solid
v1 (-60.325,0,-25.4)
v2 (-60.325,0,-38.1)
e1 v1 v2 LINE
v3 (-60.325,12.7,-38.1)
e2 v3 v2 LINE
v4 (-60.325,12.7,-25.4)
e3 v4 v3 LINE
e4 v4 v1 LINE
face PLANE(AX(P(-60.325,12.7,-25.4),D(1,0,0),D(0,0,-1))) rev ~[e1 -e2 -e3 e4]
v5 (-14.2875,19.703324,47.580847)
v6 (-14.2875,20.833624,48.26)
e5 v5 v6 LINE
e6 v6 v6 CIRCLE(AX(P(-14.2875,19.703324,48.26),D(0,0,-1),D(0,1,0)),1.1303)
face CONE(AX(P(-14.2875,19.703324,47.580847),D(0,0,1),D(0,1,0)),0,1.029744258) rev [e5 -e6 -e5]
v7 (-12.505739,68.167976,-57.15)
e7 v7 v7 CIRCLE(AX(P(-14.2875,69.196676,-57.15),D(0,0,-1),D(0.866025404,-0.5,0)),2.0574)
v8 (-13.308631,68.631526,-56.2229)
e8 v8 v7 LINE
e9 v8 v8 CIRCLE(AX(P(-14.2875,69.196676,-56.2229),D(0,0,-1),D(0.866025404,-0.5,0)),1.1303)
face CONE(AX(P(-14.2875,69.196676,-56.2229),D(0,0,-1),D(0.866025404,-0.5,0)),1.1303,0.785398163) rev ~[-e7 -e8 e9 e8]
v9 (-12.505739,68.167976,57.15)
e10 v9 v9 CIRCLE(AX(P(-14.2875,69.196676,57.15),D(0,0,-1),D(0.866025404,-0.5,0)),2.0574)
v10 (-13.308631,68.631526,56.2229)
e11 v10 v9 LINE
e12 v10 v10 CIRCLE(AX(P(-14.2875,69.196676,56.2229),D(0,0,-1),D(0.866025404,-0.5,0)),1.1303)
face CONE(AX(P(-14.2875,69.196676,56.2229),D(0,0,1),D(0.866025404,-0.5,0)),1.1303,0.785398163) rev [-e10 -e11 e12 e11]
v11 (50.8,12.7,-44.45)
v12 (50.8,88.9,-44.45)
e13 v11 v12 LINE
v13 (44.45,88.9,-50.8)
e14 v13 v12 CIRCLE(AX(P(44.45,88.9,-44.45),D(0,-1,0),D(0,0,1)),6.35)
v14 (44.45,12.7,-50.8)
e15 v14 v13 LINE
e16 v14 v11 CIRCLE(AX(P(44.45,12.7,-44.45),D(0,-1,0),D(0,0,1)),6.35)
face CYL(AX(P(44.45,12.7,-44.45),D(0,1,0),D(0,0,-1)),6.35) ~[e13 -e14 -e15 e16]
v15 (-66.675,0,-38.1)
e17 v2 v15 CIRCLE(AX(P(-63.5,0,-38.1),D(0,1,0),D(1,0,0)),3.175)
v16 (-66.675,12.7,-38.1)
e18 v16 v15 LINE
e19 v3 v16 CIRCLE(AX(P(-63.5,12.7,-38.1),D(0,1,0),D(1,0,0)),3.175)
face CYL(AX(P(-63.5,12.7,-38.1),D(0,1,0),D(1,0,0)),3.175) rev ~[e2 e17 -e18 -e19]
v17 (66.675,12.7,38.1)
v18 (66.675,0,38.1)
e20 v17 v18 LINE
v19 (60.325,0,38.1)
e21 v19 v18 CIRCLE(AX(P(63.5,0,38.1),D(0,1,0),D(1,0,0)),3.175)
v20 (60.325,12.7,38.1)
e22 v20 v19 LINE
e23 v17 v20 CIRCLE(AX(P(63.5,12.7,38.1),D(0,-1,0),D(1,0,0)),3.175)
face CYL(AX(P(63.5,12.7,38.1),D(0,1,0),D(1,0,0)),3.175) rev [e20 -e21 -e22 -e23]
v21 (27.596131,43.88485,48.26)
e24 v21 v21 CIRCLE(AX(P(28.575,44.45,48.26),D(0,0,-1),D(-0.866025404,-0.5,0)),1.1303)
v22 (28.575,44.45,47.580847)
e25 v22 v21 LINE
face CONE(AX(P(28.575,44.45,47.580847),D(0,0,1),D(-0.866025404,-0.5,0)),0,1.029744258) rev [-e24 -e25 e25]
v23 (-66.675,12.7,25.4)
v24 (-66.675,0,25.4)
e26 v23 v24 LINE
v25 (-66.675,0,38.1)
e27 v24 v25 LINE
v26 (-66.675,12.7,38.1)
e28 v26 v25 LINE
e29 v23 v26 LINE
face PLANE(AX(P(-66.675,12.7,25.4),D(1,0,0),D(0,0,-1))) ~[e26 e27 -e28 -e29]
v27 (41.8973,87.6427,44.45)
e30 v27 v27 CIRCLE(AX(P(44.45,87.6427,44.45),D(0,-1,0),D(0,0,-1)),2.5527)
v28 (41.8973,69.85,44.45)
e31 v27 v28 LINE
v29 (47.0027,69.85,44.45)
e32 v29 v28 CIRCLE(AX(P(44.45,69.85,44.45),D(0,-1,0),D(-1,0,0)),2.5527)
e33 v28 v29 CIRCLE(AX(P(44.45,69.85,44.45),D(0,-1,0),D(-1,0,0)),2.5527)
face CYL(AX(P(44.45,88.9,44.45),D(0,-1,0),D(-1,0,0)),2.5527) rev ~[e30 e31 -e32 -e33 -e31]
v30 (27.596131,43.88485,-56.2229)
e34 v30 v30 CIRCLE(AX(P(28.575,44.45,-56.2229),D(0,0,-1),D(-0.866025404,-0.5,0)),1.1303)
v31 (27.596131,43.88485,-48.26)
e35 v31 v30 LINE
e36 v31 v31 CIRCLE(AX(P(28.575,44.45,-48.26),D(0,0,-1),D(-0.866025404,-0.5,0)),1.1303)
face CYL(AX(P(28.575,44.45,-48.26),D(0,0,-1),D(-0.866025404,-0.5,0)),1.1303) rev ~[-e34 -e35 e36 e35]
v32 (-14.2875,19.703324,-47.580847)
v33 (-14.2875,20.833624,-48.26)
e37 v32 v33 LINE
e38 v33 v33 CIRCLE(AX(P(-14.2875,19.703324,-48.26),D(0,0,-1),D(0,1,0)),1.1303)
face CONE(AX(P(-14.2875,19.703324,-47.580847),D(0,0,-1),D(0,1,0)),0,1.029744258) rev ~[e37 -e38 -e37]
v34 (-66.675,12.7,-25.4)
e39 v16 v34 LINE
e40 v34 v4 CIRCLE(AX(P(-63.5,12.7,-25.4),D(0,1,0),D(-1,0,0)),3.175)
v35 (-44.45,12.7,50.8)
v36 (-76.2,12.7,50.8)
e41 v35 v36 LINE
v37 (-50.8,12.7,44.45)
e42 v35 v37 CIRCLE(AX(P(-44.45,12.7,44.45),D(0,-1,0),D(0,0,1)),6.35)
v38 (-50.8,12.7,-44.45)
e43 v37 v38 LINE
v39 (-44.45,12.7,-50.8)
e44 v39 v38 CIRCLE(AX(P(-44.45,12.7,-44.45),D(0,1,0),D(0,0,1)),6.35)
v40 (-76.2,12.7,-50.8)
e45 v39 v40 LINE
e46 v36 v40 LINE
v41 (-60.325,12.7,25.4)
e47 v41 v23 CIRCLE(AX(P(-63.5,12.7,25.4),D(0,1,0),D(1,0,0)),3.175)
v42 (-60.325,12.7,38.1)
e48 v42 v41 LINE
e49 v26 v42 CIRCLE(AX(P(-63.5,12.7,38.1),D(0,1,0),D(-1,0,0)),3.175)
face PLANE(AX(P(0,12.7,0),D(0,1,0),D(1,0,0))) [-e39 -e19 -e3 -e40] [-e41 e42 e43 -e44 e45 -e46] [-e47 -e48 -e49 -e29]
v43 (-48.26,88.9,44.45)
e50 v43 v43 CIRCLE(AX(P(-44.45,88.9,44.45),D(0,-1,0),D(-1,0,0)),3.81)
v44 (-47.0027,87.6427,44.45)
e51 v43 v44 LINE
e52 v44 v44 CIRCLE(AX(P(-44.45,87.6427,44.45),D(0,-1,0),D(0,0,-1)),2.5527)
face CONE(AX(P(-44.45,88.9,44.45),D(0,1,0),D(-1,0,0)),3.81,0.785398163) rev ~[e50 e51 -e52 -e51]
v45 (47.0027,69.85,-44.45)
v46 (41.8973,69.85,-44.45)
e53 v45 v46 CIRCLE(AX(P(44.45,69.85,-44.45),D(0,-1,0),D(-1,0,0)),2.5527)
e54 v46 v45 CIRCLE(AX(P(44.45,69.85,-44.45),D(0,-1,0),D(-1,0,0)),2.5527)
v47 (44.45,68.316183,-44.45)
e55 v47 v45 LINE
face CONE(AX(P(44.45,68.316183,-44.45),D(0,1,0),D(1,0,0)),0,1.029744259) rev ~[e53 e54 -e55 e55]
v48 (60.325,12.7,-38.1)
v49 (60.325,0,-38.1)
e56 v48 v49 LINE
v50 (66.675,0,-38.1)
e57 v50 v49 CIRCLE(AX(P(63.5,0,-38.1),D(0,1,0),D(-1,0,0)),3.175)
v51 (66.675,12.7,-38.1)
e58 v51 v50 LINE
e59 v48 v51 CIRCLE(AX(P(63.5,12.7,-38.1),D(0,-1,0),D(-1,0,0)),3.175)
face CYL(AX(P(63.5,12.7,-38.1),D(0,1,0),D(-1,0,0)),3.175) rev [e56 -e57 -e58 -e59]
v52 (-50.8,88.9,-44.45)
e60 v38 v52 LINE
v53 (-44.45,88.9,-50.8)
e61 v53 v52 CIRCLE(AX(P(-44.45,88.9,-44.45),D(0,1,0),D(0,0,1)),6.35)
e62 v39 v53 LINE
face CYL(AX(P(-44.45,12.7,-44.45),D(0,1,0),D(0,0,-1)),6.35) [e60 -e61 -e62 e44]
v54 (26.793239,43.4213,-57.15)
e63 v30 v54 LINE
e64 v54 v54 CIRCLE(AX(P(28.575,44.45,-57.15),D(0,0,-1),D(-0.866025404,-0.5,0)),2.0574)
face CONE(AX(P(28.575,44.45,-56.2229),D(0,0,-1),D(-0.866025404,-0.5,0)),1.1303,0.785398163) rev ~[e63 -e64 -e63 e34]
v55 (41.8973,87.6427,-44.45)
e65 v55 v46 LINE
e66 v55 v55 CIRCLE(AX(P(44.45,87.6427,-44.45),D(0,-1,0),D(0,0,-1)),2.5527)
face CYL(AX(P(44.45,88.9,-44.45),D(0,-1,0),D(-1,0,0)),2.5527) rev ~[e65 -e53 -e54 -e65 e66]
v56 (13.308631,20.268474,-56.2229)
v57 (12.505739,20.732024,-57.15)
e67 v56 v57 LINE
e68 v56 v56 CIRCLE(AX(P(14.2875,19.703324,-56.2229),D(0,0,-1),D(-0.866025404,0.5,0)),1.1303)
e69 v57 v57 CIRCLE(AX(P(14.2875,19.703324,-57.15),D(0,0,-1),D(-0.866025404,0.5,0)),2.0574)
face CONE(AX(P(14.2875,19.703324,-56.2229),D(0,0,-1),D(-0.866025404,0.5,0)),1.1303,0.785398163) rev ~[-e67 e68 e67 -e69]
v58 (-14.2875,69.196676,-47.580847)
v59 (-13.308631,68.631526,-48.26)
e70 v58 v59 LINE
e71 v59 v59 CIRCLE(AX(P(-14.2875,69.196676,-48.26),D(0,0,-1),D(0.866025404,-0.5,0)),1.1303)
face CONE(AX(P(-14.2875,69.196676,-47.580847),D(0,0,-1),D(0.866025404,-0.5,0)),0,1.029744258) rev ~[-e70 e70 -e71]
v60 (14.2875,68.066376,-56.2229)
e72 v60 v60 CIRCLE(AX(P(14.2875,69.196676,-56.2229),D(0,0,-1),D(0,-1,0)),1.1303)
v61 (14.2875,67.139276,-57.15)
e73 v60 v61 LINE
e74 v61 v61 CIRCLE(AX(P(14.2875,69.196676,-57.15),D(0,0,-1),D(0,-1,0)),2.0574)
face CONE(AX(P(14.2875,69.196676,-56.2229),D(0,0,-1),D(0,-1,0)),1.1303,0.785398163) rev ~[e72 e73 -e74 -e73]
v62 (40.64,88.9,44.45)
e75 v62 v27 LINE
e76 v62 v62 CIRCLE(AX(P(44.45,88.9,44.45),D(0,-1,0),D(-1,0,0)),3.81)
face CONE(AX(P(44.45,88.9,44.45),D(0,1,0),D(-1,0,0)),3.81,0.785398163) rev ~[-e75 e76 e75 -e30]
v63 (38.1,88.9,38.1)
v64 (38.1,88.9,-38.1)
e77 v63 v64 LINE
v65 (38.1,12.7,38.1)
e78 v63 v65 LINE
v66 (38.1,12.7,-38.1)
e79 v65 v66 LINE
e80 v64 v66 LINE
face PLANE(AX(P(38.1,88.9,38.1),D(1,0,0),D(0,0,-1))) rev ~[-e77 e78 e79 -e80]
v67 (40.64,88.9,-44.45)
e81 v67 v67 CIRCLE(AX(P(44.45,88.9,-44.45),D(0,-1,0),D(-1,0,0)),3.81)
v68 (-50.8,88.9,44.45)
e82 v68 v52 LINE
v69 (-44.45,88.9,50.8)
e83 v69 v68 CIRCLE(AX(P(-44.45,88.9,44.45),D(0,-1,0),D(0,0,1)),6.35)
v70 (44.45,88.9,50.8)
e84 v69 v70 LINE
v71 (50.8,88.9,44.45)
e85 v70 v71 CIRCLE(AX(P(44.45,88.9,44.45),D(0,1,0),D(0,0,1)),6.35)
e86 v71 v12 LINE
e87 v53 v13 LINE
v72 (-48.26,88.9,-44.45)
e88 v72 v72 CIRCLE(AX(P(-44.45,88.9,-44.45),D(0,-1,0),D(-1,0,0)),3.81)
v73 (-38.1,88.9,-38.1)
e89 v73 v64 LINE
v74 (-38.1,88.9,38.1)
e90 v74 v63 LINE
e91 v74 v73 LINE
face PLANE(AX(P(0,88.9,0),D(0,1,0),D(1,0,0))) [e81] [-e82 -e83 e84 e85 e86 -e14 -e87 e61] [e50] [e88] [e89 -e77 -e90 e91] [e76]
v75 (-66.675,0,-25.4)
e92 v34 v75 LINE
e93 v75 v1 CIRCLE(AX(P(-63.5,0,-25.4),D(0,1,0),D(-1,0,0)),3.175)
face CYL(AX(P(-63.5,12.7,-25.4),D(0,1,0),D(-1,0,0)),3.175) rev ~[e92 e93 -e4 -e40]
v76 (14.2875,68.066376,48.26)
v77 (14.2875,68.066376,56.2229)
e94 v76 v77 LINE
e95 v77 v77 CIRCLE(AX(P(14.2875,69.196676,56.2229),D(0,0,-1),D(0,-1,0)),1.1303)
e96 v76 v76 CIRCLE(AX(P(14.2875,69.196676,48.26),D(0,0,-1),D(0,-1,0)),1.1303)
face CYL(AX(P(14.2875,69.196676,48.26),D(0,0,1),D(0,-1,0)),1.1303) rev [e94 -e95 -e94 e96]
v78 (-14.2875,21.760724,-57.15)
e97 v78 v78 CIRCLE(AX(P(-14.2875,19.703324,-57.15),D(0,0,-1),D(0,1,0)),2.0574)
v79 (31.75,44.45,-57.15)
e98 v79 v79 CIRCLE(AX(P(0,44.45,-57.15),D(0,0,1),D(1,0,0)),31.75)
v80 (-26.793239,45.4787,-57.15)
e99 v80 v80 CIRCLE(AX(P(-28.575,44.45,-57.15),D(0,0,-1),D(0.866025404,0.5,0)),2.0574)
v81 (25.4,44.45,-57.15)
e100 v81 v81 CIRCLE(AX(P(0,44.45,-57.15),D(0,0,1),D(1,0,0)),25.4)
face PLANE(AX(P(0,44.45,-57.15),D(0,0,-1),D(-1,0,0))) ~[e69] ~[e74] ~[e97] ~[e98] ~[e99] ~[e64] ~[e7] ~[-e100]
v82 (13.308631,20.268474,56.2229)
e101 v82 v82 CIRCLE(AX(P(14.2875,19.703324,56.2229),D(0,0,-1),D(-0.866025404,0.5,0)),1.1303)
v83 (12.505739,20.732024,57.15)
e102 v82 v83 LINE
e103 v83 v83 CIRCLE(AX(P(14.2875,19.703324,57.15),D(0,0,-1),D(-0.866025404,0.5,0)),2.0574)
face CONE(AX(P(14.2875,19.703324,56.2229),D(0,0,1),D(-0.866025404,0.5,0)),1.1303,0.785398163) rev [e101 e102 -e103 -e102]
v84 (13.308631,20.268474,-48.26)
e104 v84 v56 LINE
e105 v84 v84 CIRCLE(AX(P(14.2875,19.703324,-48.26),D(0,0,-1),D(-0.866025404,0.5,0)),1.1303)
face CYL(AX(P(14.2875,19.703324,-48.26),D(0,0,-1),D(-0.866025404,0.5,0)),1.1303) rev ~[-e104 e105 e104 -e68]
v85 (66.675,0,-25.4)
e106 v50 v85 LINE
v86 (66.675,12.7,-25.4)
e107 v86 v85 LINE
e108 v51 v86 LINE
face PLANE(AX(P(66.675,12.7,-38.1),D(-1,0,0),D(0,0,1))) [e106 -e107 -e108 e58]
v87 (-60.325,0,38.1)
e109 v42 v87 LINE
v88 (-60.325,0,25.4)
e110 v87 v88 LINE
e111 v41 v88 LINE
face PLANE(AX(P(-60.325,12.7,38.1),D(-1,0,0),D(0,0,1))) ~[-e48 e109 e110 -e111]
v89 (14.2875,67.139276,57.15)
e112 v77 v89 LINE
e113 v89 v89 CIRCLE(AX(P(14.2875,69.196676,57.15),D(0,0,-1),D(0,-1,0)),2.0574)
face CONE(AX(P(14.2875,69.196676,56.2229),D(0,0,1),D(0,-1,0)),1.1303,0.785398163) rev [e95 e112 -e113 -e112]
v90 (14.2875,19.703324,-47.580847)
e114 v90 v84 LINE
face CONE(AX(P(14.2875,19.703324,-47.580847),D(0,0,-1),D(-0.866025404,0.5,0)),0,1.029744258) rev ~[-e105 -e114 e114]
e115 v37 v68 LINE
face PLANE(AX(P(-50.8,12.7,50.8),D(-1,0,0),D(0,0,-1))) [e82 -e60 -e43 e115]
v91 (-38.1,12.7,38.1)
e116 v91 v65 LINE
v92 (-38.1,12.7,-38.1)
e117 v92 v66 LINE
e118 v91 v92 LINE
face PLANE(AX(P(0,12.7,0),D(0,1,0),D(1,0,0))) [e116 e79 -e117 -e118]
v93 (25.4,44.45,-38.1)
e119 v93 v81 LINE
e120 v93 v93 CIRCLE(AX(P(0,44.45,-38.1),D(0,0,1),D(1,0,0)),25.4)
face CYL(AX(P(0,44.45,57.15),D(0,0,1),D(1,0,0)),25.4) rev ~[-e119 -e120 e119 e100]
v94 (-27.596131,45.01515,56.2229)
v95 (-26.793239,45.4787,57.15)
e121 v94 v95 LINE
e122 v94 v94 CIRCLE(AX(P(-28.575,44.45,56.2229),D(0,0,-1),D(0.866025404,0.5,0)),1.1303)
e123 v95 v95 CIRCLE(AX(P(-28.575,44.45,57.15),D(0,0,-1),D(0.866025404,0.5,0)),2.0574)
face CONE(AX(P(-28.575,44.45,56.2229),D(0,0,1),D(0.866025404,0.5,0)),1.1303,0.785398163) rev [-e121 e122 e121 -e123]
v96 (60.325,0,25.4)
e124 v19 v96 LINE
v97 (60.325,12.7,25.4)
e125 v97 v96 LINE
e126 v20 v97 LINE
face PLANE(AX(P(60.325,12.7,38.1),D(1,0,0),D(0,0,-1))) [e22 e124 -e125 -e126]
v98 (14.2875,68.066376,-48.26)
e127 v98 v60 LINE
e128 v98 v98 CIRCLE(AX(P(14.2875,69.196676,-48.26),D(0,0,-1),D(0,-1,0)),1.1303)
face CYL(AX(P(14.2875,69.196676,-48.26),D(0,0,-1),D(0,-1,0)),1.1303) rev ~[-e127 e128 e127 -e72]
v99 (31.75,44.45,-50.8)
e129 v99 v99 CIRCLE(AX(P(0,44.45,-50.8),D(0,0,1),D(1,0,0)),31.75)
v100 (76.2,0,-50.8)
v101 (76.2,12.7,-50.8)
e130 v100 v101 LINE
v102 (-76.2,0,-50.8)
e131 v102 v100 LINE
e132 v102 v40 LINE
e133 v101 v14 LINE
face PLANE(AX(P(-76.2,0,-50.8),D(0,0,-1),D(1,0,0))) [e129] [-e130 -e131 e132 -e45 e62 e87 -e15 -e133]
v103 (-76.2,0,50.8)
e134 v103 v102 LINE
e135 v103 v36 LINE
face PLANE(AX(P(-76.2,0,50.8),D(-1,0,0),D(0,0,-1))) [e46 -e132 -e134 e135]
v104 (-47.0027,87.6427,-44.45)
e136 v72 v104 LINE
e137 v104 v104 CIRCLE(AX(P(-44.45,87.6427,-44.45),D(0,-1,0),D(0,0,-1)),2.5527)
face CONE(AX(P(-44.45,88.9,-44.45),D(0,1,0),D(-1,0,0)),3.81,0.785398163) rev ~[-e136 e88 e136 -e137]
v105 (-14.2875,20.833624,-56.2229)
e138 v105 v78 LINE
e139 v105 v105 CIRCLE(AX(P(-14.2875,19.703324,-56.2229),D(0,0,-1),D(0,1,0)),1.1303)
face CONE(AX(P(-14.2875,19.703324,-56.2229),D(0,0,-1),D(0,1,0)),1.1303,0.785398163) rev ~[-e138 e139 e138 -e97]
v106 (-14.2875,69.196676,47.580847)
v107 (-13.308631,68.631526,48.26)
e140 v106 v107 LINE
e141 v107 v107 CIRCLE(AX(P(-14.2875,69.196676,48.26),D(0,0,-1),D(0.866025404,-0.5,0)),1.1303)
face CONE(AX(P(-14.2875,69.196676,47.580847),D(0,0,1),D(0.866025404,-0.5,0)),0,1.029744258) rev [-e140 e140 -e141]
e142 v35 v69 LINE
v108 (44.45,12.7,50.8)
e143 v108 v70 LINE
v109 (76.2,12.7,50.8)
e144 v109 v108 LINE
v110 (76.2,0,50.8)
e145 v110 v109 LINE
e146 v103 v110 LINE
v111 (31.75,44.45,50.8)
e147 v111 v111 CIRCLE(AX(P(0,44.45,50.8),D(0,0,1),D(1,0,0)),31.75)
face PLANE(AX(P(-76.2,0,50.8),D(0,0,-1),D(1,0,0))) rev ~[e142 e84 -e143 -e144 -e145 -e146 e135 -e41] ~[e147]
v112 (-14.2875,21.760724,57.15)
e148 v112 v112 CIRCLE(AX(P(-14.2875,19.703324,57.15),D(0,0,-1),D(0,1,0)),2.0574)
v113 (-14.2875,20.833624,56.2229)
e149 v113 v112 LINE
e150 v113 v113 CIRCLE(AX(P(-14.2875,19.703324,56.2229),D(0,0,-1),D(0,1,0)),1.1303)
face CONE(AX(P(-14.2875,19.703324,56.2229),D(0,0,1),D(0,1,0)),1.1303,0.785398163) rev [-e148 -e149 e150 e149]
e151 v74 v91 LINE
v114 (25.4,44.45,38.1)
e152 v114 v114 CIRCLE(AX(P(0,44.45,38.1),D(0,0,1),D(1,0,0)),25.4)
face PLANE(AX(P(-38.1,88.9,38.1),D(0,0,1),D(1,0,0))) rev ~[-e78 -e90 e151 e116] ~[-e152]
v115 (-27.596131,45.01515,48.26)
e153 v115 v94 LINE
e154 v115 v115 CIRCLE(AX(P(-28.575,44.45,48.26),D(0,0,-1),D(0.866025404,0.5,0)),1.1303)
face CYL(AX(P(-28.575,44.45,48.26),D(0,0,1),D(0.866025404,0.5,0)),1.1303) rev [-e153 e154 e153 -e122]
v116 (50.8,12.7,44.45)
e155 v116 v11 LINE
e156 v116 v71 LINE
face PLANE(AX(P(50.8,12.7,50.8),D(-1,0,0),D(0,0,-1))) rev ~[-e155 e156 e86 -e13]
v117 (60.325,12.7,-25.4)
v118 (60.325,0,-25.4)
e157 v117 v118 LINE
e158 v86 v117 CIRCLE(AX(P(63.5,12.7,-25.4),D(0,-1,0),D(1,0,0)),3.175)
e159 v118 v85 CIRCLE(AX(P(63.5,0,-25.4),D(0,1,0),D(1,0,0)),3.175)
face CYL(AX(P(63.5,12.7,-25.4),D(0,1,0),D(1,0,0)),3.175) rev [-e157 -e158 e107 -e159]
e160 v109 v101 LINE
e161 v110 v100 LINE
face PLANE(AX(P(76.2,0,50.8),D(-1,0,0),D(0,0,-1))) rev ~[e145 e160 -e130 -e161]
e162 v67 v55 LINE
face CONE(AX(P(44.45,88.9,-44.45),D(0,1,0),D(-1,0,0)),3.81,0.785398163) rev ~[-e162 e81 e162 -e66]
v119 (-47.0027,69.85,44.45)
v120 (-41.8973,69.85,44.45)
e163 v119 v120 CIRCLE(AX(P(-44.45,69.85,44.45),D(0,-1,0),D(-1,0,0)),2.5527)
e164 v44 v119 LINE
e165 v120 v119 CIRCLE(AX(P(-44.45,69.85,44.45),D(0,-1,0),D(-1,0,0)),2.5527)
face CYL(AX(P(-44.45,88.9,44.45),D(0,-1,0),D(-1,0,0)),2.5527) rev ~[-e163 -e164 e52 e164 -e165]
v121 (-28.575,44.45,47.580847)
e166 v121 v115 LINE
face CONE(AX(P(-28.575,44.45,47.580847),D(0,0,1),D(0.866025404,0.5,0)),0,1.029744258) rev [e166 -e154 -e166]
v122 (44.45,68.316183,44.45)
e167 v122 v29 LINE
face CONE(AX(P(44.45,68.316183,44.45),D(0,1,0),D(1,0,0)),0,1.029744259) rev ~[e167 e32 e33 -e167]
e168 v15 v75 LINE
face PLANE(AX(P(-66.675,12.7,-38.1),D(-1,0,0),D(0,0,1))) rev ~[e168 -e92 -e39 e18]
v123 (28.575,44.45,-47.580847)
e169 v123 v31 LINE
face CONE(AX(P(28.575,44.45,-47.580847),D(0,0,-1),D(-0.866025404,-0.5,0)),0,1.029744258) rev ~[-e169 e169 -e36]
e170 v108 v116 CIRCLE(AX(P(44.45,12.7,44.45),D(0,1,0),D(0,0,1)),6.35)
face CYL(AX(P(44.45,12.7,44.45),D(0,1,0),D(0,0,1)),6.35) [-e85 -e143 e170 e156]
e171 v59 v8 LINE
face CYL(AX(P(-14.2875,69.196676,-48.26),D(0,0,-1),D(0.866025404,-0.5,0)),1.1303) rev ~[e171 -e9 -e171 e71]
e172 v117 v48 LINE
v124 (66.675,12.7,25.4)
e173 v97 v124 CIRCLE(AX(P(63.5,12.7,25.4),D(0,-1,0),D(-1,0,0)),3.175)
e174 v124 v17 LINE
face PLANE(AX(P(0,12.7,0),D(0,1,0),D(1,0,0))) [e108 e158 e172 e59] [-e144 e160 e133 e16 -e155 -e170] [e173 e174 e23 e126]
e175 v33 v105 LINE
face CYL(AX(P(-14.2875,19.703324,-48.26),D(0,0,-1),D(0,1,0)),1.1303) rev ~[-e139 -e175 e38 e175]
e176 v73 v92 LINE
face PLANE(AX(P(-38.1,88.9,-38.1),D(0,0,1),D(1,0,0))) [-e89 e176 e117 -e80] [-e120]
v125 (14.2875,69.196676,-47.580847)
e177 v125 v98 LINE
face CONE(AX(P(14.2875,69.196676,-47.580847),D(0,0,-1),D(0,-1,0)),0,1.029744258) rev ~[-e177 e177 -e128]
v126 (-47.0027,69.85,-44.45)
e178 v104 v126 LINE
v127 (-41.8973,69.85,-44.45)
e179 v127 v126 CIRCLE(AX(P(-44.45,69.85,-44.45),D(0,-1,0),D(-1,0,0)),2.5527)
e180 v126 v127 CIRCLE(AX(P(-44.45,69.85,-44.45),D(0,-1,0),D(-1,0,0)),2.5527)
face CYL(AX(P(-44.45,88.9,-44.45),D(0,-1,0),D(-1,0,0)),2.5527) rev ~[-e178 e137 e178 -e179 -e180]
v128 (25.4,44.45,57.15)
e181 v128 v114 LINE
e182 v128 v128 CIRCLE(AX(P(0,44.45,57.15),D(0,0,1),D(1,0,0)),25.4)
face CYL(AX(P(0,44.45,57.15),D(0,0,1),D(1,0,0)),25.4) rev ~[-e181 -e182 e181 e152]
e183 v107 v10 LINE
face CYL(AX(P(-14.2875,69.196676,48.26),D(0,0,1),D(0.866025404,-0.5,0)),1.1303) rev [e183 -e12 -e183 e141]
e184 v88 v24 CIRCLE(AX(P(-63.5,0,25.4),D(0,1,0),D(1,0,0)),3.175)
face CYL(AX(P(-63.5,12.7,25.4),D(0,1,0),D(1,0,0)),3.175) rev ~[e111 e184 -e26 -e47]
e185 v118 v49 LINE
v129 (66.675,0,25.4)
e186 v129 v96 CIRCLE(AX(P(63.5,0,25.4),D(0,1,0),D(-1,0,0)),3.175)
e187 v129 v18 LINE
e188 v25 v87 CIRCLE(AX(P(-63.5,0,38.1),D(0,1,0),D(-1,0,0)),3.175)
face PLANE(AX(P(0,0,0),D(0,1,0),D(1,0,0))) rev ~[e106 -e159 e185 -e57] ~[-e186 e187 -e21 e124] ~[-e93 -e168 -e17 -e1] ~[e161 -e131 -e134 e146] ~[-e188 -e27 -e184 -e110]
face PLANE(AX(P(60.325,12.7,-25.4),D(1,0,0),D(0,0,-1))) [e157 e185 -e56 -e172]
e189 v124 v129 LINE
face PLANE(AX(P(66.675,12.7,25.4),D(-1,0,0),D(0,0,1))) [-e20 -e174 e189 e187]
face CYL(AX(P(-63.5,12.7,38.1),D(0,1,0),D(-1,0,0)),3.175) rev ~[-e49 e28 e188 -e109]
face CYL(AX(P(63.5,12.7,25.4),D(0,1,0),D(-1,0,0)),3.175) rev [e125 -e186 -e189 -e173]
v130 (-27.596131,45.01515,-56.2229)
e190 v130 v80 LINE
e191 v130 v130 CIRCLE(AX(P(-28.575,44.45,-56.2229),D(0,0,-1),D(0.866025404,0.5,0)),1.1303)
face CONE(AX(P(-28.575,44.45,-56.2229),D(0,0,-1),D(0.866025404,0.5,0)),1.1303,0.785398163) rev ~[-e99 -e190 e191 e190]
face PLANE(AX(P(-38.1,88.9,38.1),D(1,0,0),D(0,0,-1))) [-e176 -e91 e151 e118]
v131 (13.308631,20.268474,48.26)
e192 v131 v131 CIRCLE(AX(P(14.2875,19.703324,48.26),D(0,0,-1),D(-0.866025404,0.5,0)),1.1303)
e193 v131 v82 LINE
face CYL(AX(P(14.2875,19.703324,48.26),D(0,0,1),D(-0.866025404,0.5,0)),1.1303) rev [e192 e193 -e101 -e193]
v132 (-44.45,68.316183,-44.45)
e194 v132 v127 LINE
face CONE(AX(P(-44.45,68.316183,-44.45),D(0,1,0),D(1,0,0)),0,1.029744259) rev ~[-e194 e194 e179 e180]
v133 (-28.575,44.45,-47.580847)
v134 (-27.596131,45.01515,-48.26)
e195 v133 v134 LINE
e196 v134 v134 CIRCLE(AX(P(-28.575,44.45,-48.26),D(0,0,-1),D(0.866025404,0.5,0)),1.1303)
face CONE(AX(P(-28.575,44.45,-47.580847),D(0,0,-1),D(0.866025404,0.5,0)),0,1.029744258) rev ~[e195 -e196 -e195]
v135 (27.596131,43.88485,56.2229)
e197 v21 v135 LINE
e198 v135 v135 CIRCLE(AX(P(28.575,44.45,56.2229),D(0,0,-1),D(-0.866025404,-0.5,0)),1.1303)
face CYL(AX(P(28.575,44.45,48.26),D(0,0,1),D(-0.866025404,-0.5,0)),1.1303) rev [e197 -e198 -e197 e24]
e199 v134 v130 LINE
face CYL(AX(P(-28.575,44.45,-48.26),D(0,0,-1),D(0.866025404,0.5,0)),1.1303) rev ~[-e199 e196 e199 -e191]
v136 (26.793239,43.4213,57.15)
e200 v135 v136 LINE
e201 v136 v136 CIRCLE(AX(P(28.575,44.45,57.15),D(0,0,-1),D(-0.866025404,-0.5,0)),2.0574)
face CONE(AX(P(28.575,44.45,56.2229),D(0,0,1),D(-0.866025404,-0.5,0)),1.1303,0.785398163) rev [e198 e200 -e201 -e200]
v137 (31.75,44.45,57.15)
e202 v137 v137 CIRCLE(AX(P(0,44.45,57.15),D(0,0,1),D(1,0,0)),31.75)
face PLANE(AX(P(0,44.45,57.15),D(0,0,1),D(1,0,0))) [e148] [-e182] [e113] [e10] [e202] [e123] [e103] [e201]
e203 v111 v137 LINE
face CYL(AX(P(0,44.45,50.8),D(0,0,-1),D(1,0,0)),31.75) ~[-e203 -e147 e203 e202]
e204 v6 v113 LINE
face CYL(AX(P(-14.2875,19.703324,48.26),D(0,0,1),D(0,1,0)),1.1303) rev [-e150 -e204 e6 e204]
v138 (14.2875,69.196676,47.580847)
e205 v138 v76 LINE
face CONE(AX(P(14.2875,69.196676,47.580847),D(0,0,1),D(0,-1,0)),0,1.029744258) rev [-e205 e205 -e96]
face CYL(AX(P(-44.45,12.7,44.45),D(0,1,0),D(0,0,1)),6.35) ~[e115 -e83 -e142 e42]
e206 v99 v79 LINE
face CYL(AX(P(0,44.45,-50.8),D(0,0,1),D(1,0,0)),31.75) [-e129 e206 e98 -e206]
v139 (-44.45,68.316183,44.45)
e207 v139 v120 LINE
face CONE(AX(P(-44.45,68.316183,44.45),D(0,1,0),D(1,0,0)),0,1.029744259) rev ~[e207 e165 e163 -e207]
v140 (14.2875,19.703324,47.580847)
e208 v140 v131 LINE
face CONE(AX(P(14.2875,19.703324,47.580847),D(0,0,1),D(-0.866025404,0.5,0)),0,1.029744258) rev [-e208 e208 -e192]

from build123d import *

# Parameters (mm, degrees)
SKETCH1_W                         = 152.4
SKETCH1_H                         = 101.6
BOSS_EXTRUDE1_DEPTH               = 12.7
SKETCH2_W                         = 101.6
SKETCH2_H                         = 101.6
BOSS_EXTRUDE2_DEPTH               = 76.2
SKETCH3_W                         = 76.2
SKETCH3_H                         = 76.2
CUT_EXTRUDE1_DEPTH                = 76.2
SKETCH4_R                         = 31.75
BOSS_EXTRUDE3_DEPTH               = 6.35
SKETCH5_R                         = 25.4
CUT_EXTRUDE2_DEPTH                = 164.628053829
CIRPATTERN1_COUNT                 = 6
FILLET1_R                         = 6.35
F_1_4_20_TAPPED_HOLE1_D           = 5.1054
F_1_4_20_TAPPED_HOLE1_DEPTH       = 19.05
F_1_4_20_TAPPED_HOLE1_CSINK_D     = 7.62
F_1_4_20_TAPPED_HOLE1_CSINK_ANGLE = 90
F_1_4_20_TAPPED_HOLE1_TIP         = 1.533816902
CUT_EXTRUDE3_DEPTH                = 122.979516723
LPATTERN1_COUNT                   = 2
LPATTERN1_PITCH                   = 63.5
MIRROR3_COPY_1_DEPTH              = 122.979516723


with BuildPart() as part:
    # Sketch1 → Boss-Extrude1 (new body)
    with BuildSketch(Plane(origin=(0, 0, 0), x_dir=(1, 0, 0), z_dir=(0, 1, 0))):
        Rectangle(SKETCH1_W, SKETCH1_H)
    extrude(amount=BOSS_EXTRUDE1_DEPTH)

    # Sketch2 → Boss-Extrude2 (add)
    with BuildSketch(Plane(origin=(0, 12.7, 0), x_dir=(1, 0, 0), z_dir=(0, 1, 0))):
        Rectangle(SKETCH2_W, SKETCH2_H)
    extrude(amount=BOSS_EXTRUDE2_DEPTH)

    # Sketch3 → Cut-Extrude1 (cut)
    with BuildSketch(Plane(origin=(0, 88.9, 0), x_dir=(1, 0, 0), z_dir=(0, 1, 0))):
        Rectangle(SKETCH3_W, SKETCH3_H)
    extrude(amount=-CUT_EXTRUDE1_DEPTH, mode=Mode.SUBTRACT)

    # Sketch4 → Boss-Extrude3 (add)
    with BuildSketch(Plane.XY.offset(50.8)):
        with Locations((0, 44.45)):
            Circle(SKETCH4_R)
    boss_extrude3 = extrude(amount=BOSS_EXTRUDE3_DEPTH)

    # Mirror1: Boss-Extrude3 across plane
    add(boss_extrude3.mirror(Plane.XY))

    # Sketch5 → Cut-Extrude2 (cut, through all)
    with BuildSketch(Plane.XY.offset(57.15)):
        with Locations((0, 44.45)):
            Circle(SKETCH5_R)
    extrude(amount=-CUT_EXTRUDE2_DEPTH, mode=Mode.SUBTRACT)

    # Sketch7 → #4-40 Tapped Hole1 (revolve, cut)
    with BuildSketch(Plane(origin=(14.2875, 69.196675913, 57.15), x_dir=(0, -1, 0), z_dir=(1, 0, 0))):
        Polygon((0, 0), (0, 9.569152758), (1.1303, 8.89), (1.1303, 0.9271), (2.0574, 0), align=None)
    f_4_40_tapped_hole1 = revolve(axis=Axis((14.2875, 69.196675913, 63.5), (0, 0, -1)), mode=Mode.SUBTRACT)

    # CirPattern1: #4-40 Tapped Hole1 ×6 about axis
    cirpattern1_axis = Axis((0, 44.45, 0), (0, 0, 1))
    for i in range(1, CIRPATTERN1_COUNT):
        add(f_4_40_tapped_hole1.rotate(cirpattern1_axis, i * 360 / CIRPATTERN1_COUNT), mode=Mode.SUBTRACT)

    # Mirror2: #4-40 Tapped Hole1 across plane
    add(f_4_40_tapped_hole1.mirror(Plane.XY), mode=Mode.SUBTRACT)

    # Mirror2 copy 1 sketch → Mirror2 copy 1 (revolve, cut)
    with BuildSketch(Plane(origin=(-14.2875, 69.196675913, -57.15), x_dir=(0.8660254037844386, -0.5000000000000001, 0), z_dir=(0.5000000000000001, 0.8660254037844386, 0))):
        Polygon((0, 0), (0, -9.569152758), (1.1303, -8.89), (1.1303, -0.9271), (2.0574, 0), align=None)
    revolve(axis=Axis((-14.2875, 69.196675913, -63.5), (0, 0, -1)), mode=Mode.SUBTRACT)

    # Mirror2 copy 2 sketch → Mirror2 copy 2 (revolve, cut)
    with BuildSketch(Plane(origin=(-28.575, 44.45, -57.15), x_dir=(0.8660254037844387, 0.4999999999999998, 0), z_dir=(-0.4999999999999998, 0.8660254037844387, 0))):
        Polygon((0, 0), (0, -9.569152758), (1.1303, -8.89), (1.1303, -0.9271), (2.0574, 0), align=None)
    revolve(axis=Axis((-28.575, 44.45, -63.5), (0, 0, -1)), mode=Mode.SUBTRACT)

    # Mirror2 copy 3 sketch → Mirror2 copy 3 (revolve, cut)
    with BuildSketch(Plane(origin=(-14.2875, 19.703324087, -57.15), x_dir=(0, 1, 0), z_dir=(-1, 0, 0))):
        Polygon((0, 0), (0, -9.569152758), (1.1303, -8.89), (1.1303, -0.9271), (2.0574, 0), align=None)
    revolve(axis=Axis((-14.2875, 19.703324087, -63.5), (0, 0, -1)), mode=Mode.SUBTRACT)

    # Mirror2 copy 4 sketch → Mirror2 copy 4 (revolve, cut)
    with BuildSketch(Plane(origin=(14.2875, 19.703324087, -57.15), x_dir=(-0.8660254037844384, 0.5000000000000004, 0), z_dir=(-0.5000000000000004, -0.8660254037844384, 0))):
        Polygon((0, 0), (0, -9.569152758), (1.1303, -8.89), (1.1303, -0.9271), (2.0574, 0), align=None)
    revolve(axis=Axis((14.2875, 19.703324087, -63.5), (0, 0, -1)), mode=Mode.SUBTRACT)

    # Mirror2 copy 5 sketch → Mirror2 copy 5 (revolve, cut)
    with BuildSketch(Plane(origin=(28.575, 44.45, -57.15), x_dir=(-0.8660254037844386, -0.5000000000000001, 0), z_dir=(0.5000000000000001, -0.8660254037844386, 0))):
        Polygon((0, 0), (0, -9.569152758), (1.1303, -8.89), (1.1303, -0.9271), (2.0574, 0), align=None)
    revolve(axis=Axis((28.575, 44.45, -63.5), (0, 0, -1)), mode=Mode.SUBTRACT)

    # Fillet1
    fillet1_edges = [part.edges().sort_by_distance(p)[0] for p in [
        (50.8, 50.8, 50.8),
        (50.8, 50.8, -50.8),
        (-50.8, 50.8, -50.8),
        (-50.8, 50.8, 50.8),
    ]]
    fillet(fillet1_edges, radius=FILLET1_R)

    # 1/4-20 Tapped Hole1
    with Locations(Plane(origin=(0, 88.9, 0), x_dir=(1, 0, 0), z_dir=(0, 1, 0))):
        with Locations((-44.45, 44.45), (44.45, 44.45), (44.45, -44.45), (-44.45, -44.45)):
            CounterSinkHole(F_1_4_20_TAPPED_HOLE1_D / 2, F_1_4_20_TAPPED_HOLE1_CSINK_D / 2, depth=F_1_4_20_TAPPED_HOLE1_DEPTH, counter_sink_angle=F_1_4_20_TAPPED_HOLE1_CSINK_ANGLE)
            with Locations((0, 0, -(F_1_4_20_TAPPED_HOLE1_DEPTH + F_1_4_20_TAPPED_HOLE1_TIP / 2))):  # 118° drill point
                Cone(0, F_1_4_20_TAPPED_HOLE1_D / 2, F_1_4_20_TAPPED_HOLE1_TIP, mode=Mode.SUBTRACT)

    # Sketch12 → Cut-Extrude3 (cut, through all)
    with BuildSketch(Plane(origin=(0, 12.7, 0), x_dir=(1, 0, 0), z_dir=(0, 1, 0))):
        with BuildLine():
            Line((66.675, -25.4), (66.675, -38.1))
            ThreePointArc((66.675, -38.1), (63.5, -41.275), (60.325, -38.1))
            Line((60.325, -38.1), (60.325, -25.4))
            ThreePointArc((60.325, -25.4), (63.5, -22.225), (66.675, -25.4))
        make_face()
    cut_extrude3 = extrude(amount=-CUT_EXTRUDE3_DEPTH, mode=Mode.SUBTRACT)

    # LPattern1: Cut-Extrude3 ×2
    with Locations(*[(0, 0, -i * LPATTERN1_PITCH) for i in range(1, LPATTERN1_COUNT)]):
        add(cut_extrude3, mode=Mode.SUBTRACT)

    # Mirror3: Cut-Extrude3 across plane
    add(cut_extrude3.mirror(Plane(origin=(0, 0, 0), x_dir=(0, 0, 1), z_dir=(1, 0, 0))), mode=Mode.SUBTRACT)

    # Mirror3 copy 1 sketch → Mirror3 copy 1 (cut, through all)
    with BuildSketch(Plane(origin=(0, 12.7, -63.5), x_dir=(-1, 0, 0), z_dir=(0, 1, 0))):
        with BuildLine():
            Line((66.675, 25.4), (66.675, 38.1))
            ThreePointArc((66.675, 38.1), (63.5, 41.275), (60.325, 38.1))
            Line((60.325, 38.1), (60.325, 25.4))
            ThreePointArc((60.325, 25.4), (63.5, 22.225), (66.675, 25.4))
        make_face()
    extrude(amount=-MIRROR3_COPY_1_DEPTH, mode=Mode.SUBTRACT)


solid = part.part
